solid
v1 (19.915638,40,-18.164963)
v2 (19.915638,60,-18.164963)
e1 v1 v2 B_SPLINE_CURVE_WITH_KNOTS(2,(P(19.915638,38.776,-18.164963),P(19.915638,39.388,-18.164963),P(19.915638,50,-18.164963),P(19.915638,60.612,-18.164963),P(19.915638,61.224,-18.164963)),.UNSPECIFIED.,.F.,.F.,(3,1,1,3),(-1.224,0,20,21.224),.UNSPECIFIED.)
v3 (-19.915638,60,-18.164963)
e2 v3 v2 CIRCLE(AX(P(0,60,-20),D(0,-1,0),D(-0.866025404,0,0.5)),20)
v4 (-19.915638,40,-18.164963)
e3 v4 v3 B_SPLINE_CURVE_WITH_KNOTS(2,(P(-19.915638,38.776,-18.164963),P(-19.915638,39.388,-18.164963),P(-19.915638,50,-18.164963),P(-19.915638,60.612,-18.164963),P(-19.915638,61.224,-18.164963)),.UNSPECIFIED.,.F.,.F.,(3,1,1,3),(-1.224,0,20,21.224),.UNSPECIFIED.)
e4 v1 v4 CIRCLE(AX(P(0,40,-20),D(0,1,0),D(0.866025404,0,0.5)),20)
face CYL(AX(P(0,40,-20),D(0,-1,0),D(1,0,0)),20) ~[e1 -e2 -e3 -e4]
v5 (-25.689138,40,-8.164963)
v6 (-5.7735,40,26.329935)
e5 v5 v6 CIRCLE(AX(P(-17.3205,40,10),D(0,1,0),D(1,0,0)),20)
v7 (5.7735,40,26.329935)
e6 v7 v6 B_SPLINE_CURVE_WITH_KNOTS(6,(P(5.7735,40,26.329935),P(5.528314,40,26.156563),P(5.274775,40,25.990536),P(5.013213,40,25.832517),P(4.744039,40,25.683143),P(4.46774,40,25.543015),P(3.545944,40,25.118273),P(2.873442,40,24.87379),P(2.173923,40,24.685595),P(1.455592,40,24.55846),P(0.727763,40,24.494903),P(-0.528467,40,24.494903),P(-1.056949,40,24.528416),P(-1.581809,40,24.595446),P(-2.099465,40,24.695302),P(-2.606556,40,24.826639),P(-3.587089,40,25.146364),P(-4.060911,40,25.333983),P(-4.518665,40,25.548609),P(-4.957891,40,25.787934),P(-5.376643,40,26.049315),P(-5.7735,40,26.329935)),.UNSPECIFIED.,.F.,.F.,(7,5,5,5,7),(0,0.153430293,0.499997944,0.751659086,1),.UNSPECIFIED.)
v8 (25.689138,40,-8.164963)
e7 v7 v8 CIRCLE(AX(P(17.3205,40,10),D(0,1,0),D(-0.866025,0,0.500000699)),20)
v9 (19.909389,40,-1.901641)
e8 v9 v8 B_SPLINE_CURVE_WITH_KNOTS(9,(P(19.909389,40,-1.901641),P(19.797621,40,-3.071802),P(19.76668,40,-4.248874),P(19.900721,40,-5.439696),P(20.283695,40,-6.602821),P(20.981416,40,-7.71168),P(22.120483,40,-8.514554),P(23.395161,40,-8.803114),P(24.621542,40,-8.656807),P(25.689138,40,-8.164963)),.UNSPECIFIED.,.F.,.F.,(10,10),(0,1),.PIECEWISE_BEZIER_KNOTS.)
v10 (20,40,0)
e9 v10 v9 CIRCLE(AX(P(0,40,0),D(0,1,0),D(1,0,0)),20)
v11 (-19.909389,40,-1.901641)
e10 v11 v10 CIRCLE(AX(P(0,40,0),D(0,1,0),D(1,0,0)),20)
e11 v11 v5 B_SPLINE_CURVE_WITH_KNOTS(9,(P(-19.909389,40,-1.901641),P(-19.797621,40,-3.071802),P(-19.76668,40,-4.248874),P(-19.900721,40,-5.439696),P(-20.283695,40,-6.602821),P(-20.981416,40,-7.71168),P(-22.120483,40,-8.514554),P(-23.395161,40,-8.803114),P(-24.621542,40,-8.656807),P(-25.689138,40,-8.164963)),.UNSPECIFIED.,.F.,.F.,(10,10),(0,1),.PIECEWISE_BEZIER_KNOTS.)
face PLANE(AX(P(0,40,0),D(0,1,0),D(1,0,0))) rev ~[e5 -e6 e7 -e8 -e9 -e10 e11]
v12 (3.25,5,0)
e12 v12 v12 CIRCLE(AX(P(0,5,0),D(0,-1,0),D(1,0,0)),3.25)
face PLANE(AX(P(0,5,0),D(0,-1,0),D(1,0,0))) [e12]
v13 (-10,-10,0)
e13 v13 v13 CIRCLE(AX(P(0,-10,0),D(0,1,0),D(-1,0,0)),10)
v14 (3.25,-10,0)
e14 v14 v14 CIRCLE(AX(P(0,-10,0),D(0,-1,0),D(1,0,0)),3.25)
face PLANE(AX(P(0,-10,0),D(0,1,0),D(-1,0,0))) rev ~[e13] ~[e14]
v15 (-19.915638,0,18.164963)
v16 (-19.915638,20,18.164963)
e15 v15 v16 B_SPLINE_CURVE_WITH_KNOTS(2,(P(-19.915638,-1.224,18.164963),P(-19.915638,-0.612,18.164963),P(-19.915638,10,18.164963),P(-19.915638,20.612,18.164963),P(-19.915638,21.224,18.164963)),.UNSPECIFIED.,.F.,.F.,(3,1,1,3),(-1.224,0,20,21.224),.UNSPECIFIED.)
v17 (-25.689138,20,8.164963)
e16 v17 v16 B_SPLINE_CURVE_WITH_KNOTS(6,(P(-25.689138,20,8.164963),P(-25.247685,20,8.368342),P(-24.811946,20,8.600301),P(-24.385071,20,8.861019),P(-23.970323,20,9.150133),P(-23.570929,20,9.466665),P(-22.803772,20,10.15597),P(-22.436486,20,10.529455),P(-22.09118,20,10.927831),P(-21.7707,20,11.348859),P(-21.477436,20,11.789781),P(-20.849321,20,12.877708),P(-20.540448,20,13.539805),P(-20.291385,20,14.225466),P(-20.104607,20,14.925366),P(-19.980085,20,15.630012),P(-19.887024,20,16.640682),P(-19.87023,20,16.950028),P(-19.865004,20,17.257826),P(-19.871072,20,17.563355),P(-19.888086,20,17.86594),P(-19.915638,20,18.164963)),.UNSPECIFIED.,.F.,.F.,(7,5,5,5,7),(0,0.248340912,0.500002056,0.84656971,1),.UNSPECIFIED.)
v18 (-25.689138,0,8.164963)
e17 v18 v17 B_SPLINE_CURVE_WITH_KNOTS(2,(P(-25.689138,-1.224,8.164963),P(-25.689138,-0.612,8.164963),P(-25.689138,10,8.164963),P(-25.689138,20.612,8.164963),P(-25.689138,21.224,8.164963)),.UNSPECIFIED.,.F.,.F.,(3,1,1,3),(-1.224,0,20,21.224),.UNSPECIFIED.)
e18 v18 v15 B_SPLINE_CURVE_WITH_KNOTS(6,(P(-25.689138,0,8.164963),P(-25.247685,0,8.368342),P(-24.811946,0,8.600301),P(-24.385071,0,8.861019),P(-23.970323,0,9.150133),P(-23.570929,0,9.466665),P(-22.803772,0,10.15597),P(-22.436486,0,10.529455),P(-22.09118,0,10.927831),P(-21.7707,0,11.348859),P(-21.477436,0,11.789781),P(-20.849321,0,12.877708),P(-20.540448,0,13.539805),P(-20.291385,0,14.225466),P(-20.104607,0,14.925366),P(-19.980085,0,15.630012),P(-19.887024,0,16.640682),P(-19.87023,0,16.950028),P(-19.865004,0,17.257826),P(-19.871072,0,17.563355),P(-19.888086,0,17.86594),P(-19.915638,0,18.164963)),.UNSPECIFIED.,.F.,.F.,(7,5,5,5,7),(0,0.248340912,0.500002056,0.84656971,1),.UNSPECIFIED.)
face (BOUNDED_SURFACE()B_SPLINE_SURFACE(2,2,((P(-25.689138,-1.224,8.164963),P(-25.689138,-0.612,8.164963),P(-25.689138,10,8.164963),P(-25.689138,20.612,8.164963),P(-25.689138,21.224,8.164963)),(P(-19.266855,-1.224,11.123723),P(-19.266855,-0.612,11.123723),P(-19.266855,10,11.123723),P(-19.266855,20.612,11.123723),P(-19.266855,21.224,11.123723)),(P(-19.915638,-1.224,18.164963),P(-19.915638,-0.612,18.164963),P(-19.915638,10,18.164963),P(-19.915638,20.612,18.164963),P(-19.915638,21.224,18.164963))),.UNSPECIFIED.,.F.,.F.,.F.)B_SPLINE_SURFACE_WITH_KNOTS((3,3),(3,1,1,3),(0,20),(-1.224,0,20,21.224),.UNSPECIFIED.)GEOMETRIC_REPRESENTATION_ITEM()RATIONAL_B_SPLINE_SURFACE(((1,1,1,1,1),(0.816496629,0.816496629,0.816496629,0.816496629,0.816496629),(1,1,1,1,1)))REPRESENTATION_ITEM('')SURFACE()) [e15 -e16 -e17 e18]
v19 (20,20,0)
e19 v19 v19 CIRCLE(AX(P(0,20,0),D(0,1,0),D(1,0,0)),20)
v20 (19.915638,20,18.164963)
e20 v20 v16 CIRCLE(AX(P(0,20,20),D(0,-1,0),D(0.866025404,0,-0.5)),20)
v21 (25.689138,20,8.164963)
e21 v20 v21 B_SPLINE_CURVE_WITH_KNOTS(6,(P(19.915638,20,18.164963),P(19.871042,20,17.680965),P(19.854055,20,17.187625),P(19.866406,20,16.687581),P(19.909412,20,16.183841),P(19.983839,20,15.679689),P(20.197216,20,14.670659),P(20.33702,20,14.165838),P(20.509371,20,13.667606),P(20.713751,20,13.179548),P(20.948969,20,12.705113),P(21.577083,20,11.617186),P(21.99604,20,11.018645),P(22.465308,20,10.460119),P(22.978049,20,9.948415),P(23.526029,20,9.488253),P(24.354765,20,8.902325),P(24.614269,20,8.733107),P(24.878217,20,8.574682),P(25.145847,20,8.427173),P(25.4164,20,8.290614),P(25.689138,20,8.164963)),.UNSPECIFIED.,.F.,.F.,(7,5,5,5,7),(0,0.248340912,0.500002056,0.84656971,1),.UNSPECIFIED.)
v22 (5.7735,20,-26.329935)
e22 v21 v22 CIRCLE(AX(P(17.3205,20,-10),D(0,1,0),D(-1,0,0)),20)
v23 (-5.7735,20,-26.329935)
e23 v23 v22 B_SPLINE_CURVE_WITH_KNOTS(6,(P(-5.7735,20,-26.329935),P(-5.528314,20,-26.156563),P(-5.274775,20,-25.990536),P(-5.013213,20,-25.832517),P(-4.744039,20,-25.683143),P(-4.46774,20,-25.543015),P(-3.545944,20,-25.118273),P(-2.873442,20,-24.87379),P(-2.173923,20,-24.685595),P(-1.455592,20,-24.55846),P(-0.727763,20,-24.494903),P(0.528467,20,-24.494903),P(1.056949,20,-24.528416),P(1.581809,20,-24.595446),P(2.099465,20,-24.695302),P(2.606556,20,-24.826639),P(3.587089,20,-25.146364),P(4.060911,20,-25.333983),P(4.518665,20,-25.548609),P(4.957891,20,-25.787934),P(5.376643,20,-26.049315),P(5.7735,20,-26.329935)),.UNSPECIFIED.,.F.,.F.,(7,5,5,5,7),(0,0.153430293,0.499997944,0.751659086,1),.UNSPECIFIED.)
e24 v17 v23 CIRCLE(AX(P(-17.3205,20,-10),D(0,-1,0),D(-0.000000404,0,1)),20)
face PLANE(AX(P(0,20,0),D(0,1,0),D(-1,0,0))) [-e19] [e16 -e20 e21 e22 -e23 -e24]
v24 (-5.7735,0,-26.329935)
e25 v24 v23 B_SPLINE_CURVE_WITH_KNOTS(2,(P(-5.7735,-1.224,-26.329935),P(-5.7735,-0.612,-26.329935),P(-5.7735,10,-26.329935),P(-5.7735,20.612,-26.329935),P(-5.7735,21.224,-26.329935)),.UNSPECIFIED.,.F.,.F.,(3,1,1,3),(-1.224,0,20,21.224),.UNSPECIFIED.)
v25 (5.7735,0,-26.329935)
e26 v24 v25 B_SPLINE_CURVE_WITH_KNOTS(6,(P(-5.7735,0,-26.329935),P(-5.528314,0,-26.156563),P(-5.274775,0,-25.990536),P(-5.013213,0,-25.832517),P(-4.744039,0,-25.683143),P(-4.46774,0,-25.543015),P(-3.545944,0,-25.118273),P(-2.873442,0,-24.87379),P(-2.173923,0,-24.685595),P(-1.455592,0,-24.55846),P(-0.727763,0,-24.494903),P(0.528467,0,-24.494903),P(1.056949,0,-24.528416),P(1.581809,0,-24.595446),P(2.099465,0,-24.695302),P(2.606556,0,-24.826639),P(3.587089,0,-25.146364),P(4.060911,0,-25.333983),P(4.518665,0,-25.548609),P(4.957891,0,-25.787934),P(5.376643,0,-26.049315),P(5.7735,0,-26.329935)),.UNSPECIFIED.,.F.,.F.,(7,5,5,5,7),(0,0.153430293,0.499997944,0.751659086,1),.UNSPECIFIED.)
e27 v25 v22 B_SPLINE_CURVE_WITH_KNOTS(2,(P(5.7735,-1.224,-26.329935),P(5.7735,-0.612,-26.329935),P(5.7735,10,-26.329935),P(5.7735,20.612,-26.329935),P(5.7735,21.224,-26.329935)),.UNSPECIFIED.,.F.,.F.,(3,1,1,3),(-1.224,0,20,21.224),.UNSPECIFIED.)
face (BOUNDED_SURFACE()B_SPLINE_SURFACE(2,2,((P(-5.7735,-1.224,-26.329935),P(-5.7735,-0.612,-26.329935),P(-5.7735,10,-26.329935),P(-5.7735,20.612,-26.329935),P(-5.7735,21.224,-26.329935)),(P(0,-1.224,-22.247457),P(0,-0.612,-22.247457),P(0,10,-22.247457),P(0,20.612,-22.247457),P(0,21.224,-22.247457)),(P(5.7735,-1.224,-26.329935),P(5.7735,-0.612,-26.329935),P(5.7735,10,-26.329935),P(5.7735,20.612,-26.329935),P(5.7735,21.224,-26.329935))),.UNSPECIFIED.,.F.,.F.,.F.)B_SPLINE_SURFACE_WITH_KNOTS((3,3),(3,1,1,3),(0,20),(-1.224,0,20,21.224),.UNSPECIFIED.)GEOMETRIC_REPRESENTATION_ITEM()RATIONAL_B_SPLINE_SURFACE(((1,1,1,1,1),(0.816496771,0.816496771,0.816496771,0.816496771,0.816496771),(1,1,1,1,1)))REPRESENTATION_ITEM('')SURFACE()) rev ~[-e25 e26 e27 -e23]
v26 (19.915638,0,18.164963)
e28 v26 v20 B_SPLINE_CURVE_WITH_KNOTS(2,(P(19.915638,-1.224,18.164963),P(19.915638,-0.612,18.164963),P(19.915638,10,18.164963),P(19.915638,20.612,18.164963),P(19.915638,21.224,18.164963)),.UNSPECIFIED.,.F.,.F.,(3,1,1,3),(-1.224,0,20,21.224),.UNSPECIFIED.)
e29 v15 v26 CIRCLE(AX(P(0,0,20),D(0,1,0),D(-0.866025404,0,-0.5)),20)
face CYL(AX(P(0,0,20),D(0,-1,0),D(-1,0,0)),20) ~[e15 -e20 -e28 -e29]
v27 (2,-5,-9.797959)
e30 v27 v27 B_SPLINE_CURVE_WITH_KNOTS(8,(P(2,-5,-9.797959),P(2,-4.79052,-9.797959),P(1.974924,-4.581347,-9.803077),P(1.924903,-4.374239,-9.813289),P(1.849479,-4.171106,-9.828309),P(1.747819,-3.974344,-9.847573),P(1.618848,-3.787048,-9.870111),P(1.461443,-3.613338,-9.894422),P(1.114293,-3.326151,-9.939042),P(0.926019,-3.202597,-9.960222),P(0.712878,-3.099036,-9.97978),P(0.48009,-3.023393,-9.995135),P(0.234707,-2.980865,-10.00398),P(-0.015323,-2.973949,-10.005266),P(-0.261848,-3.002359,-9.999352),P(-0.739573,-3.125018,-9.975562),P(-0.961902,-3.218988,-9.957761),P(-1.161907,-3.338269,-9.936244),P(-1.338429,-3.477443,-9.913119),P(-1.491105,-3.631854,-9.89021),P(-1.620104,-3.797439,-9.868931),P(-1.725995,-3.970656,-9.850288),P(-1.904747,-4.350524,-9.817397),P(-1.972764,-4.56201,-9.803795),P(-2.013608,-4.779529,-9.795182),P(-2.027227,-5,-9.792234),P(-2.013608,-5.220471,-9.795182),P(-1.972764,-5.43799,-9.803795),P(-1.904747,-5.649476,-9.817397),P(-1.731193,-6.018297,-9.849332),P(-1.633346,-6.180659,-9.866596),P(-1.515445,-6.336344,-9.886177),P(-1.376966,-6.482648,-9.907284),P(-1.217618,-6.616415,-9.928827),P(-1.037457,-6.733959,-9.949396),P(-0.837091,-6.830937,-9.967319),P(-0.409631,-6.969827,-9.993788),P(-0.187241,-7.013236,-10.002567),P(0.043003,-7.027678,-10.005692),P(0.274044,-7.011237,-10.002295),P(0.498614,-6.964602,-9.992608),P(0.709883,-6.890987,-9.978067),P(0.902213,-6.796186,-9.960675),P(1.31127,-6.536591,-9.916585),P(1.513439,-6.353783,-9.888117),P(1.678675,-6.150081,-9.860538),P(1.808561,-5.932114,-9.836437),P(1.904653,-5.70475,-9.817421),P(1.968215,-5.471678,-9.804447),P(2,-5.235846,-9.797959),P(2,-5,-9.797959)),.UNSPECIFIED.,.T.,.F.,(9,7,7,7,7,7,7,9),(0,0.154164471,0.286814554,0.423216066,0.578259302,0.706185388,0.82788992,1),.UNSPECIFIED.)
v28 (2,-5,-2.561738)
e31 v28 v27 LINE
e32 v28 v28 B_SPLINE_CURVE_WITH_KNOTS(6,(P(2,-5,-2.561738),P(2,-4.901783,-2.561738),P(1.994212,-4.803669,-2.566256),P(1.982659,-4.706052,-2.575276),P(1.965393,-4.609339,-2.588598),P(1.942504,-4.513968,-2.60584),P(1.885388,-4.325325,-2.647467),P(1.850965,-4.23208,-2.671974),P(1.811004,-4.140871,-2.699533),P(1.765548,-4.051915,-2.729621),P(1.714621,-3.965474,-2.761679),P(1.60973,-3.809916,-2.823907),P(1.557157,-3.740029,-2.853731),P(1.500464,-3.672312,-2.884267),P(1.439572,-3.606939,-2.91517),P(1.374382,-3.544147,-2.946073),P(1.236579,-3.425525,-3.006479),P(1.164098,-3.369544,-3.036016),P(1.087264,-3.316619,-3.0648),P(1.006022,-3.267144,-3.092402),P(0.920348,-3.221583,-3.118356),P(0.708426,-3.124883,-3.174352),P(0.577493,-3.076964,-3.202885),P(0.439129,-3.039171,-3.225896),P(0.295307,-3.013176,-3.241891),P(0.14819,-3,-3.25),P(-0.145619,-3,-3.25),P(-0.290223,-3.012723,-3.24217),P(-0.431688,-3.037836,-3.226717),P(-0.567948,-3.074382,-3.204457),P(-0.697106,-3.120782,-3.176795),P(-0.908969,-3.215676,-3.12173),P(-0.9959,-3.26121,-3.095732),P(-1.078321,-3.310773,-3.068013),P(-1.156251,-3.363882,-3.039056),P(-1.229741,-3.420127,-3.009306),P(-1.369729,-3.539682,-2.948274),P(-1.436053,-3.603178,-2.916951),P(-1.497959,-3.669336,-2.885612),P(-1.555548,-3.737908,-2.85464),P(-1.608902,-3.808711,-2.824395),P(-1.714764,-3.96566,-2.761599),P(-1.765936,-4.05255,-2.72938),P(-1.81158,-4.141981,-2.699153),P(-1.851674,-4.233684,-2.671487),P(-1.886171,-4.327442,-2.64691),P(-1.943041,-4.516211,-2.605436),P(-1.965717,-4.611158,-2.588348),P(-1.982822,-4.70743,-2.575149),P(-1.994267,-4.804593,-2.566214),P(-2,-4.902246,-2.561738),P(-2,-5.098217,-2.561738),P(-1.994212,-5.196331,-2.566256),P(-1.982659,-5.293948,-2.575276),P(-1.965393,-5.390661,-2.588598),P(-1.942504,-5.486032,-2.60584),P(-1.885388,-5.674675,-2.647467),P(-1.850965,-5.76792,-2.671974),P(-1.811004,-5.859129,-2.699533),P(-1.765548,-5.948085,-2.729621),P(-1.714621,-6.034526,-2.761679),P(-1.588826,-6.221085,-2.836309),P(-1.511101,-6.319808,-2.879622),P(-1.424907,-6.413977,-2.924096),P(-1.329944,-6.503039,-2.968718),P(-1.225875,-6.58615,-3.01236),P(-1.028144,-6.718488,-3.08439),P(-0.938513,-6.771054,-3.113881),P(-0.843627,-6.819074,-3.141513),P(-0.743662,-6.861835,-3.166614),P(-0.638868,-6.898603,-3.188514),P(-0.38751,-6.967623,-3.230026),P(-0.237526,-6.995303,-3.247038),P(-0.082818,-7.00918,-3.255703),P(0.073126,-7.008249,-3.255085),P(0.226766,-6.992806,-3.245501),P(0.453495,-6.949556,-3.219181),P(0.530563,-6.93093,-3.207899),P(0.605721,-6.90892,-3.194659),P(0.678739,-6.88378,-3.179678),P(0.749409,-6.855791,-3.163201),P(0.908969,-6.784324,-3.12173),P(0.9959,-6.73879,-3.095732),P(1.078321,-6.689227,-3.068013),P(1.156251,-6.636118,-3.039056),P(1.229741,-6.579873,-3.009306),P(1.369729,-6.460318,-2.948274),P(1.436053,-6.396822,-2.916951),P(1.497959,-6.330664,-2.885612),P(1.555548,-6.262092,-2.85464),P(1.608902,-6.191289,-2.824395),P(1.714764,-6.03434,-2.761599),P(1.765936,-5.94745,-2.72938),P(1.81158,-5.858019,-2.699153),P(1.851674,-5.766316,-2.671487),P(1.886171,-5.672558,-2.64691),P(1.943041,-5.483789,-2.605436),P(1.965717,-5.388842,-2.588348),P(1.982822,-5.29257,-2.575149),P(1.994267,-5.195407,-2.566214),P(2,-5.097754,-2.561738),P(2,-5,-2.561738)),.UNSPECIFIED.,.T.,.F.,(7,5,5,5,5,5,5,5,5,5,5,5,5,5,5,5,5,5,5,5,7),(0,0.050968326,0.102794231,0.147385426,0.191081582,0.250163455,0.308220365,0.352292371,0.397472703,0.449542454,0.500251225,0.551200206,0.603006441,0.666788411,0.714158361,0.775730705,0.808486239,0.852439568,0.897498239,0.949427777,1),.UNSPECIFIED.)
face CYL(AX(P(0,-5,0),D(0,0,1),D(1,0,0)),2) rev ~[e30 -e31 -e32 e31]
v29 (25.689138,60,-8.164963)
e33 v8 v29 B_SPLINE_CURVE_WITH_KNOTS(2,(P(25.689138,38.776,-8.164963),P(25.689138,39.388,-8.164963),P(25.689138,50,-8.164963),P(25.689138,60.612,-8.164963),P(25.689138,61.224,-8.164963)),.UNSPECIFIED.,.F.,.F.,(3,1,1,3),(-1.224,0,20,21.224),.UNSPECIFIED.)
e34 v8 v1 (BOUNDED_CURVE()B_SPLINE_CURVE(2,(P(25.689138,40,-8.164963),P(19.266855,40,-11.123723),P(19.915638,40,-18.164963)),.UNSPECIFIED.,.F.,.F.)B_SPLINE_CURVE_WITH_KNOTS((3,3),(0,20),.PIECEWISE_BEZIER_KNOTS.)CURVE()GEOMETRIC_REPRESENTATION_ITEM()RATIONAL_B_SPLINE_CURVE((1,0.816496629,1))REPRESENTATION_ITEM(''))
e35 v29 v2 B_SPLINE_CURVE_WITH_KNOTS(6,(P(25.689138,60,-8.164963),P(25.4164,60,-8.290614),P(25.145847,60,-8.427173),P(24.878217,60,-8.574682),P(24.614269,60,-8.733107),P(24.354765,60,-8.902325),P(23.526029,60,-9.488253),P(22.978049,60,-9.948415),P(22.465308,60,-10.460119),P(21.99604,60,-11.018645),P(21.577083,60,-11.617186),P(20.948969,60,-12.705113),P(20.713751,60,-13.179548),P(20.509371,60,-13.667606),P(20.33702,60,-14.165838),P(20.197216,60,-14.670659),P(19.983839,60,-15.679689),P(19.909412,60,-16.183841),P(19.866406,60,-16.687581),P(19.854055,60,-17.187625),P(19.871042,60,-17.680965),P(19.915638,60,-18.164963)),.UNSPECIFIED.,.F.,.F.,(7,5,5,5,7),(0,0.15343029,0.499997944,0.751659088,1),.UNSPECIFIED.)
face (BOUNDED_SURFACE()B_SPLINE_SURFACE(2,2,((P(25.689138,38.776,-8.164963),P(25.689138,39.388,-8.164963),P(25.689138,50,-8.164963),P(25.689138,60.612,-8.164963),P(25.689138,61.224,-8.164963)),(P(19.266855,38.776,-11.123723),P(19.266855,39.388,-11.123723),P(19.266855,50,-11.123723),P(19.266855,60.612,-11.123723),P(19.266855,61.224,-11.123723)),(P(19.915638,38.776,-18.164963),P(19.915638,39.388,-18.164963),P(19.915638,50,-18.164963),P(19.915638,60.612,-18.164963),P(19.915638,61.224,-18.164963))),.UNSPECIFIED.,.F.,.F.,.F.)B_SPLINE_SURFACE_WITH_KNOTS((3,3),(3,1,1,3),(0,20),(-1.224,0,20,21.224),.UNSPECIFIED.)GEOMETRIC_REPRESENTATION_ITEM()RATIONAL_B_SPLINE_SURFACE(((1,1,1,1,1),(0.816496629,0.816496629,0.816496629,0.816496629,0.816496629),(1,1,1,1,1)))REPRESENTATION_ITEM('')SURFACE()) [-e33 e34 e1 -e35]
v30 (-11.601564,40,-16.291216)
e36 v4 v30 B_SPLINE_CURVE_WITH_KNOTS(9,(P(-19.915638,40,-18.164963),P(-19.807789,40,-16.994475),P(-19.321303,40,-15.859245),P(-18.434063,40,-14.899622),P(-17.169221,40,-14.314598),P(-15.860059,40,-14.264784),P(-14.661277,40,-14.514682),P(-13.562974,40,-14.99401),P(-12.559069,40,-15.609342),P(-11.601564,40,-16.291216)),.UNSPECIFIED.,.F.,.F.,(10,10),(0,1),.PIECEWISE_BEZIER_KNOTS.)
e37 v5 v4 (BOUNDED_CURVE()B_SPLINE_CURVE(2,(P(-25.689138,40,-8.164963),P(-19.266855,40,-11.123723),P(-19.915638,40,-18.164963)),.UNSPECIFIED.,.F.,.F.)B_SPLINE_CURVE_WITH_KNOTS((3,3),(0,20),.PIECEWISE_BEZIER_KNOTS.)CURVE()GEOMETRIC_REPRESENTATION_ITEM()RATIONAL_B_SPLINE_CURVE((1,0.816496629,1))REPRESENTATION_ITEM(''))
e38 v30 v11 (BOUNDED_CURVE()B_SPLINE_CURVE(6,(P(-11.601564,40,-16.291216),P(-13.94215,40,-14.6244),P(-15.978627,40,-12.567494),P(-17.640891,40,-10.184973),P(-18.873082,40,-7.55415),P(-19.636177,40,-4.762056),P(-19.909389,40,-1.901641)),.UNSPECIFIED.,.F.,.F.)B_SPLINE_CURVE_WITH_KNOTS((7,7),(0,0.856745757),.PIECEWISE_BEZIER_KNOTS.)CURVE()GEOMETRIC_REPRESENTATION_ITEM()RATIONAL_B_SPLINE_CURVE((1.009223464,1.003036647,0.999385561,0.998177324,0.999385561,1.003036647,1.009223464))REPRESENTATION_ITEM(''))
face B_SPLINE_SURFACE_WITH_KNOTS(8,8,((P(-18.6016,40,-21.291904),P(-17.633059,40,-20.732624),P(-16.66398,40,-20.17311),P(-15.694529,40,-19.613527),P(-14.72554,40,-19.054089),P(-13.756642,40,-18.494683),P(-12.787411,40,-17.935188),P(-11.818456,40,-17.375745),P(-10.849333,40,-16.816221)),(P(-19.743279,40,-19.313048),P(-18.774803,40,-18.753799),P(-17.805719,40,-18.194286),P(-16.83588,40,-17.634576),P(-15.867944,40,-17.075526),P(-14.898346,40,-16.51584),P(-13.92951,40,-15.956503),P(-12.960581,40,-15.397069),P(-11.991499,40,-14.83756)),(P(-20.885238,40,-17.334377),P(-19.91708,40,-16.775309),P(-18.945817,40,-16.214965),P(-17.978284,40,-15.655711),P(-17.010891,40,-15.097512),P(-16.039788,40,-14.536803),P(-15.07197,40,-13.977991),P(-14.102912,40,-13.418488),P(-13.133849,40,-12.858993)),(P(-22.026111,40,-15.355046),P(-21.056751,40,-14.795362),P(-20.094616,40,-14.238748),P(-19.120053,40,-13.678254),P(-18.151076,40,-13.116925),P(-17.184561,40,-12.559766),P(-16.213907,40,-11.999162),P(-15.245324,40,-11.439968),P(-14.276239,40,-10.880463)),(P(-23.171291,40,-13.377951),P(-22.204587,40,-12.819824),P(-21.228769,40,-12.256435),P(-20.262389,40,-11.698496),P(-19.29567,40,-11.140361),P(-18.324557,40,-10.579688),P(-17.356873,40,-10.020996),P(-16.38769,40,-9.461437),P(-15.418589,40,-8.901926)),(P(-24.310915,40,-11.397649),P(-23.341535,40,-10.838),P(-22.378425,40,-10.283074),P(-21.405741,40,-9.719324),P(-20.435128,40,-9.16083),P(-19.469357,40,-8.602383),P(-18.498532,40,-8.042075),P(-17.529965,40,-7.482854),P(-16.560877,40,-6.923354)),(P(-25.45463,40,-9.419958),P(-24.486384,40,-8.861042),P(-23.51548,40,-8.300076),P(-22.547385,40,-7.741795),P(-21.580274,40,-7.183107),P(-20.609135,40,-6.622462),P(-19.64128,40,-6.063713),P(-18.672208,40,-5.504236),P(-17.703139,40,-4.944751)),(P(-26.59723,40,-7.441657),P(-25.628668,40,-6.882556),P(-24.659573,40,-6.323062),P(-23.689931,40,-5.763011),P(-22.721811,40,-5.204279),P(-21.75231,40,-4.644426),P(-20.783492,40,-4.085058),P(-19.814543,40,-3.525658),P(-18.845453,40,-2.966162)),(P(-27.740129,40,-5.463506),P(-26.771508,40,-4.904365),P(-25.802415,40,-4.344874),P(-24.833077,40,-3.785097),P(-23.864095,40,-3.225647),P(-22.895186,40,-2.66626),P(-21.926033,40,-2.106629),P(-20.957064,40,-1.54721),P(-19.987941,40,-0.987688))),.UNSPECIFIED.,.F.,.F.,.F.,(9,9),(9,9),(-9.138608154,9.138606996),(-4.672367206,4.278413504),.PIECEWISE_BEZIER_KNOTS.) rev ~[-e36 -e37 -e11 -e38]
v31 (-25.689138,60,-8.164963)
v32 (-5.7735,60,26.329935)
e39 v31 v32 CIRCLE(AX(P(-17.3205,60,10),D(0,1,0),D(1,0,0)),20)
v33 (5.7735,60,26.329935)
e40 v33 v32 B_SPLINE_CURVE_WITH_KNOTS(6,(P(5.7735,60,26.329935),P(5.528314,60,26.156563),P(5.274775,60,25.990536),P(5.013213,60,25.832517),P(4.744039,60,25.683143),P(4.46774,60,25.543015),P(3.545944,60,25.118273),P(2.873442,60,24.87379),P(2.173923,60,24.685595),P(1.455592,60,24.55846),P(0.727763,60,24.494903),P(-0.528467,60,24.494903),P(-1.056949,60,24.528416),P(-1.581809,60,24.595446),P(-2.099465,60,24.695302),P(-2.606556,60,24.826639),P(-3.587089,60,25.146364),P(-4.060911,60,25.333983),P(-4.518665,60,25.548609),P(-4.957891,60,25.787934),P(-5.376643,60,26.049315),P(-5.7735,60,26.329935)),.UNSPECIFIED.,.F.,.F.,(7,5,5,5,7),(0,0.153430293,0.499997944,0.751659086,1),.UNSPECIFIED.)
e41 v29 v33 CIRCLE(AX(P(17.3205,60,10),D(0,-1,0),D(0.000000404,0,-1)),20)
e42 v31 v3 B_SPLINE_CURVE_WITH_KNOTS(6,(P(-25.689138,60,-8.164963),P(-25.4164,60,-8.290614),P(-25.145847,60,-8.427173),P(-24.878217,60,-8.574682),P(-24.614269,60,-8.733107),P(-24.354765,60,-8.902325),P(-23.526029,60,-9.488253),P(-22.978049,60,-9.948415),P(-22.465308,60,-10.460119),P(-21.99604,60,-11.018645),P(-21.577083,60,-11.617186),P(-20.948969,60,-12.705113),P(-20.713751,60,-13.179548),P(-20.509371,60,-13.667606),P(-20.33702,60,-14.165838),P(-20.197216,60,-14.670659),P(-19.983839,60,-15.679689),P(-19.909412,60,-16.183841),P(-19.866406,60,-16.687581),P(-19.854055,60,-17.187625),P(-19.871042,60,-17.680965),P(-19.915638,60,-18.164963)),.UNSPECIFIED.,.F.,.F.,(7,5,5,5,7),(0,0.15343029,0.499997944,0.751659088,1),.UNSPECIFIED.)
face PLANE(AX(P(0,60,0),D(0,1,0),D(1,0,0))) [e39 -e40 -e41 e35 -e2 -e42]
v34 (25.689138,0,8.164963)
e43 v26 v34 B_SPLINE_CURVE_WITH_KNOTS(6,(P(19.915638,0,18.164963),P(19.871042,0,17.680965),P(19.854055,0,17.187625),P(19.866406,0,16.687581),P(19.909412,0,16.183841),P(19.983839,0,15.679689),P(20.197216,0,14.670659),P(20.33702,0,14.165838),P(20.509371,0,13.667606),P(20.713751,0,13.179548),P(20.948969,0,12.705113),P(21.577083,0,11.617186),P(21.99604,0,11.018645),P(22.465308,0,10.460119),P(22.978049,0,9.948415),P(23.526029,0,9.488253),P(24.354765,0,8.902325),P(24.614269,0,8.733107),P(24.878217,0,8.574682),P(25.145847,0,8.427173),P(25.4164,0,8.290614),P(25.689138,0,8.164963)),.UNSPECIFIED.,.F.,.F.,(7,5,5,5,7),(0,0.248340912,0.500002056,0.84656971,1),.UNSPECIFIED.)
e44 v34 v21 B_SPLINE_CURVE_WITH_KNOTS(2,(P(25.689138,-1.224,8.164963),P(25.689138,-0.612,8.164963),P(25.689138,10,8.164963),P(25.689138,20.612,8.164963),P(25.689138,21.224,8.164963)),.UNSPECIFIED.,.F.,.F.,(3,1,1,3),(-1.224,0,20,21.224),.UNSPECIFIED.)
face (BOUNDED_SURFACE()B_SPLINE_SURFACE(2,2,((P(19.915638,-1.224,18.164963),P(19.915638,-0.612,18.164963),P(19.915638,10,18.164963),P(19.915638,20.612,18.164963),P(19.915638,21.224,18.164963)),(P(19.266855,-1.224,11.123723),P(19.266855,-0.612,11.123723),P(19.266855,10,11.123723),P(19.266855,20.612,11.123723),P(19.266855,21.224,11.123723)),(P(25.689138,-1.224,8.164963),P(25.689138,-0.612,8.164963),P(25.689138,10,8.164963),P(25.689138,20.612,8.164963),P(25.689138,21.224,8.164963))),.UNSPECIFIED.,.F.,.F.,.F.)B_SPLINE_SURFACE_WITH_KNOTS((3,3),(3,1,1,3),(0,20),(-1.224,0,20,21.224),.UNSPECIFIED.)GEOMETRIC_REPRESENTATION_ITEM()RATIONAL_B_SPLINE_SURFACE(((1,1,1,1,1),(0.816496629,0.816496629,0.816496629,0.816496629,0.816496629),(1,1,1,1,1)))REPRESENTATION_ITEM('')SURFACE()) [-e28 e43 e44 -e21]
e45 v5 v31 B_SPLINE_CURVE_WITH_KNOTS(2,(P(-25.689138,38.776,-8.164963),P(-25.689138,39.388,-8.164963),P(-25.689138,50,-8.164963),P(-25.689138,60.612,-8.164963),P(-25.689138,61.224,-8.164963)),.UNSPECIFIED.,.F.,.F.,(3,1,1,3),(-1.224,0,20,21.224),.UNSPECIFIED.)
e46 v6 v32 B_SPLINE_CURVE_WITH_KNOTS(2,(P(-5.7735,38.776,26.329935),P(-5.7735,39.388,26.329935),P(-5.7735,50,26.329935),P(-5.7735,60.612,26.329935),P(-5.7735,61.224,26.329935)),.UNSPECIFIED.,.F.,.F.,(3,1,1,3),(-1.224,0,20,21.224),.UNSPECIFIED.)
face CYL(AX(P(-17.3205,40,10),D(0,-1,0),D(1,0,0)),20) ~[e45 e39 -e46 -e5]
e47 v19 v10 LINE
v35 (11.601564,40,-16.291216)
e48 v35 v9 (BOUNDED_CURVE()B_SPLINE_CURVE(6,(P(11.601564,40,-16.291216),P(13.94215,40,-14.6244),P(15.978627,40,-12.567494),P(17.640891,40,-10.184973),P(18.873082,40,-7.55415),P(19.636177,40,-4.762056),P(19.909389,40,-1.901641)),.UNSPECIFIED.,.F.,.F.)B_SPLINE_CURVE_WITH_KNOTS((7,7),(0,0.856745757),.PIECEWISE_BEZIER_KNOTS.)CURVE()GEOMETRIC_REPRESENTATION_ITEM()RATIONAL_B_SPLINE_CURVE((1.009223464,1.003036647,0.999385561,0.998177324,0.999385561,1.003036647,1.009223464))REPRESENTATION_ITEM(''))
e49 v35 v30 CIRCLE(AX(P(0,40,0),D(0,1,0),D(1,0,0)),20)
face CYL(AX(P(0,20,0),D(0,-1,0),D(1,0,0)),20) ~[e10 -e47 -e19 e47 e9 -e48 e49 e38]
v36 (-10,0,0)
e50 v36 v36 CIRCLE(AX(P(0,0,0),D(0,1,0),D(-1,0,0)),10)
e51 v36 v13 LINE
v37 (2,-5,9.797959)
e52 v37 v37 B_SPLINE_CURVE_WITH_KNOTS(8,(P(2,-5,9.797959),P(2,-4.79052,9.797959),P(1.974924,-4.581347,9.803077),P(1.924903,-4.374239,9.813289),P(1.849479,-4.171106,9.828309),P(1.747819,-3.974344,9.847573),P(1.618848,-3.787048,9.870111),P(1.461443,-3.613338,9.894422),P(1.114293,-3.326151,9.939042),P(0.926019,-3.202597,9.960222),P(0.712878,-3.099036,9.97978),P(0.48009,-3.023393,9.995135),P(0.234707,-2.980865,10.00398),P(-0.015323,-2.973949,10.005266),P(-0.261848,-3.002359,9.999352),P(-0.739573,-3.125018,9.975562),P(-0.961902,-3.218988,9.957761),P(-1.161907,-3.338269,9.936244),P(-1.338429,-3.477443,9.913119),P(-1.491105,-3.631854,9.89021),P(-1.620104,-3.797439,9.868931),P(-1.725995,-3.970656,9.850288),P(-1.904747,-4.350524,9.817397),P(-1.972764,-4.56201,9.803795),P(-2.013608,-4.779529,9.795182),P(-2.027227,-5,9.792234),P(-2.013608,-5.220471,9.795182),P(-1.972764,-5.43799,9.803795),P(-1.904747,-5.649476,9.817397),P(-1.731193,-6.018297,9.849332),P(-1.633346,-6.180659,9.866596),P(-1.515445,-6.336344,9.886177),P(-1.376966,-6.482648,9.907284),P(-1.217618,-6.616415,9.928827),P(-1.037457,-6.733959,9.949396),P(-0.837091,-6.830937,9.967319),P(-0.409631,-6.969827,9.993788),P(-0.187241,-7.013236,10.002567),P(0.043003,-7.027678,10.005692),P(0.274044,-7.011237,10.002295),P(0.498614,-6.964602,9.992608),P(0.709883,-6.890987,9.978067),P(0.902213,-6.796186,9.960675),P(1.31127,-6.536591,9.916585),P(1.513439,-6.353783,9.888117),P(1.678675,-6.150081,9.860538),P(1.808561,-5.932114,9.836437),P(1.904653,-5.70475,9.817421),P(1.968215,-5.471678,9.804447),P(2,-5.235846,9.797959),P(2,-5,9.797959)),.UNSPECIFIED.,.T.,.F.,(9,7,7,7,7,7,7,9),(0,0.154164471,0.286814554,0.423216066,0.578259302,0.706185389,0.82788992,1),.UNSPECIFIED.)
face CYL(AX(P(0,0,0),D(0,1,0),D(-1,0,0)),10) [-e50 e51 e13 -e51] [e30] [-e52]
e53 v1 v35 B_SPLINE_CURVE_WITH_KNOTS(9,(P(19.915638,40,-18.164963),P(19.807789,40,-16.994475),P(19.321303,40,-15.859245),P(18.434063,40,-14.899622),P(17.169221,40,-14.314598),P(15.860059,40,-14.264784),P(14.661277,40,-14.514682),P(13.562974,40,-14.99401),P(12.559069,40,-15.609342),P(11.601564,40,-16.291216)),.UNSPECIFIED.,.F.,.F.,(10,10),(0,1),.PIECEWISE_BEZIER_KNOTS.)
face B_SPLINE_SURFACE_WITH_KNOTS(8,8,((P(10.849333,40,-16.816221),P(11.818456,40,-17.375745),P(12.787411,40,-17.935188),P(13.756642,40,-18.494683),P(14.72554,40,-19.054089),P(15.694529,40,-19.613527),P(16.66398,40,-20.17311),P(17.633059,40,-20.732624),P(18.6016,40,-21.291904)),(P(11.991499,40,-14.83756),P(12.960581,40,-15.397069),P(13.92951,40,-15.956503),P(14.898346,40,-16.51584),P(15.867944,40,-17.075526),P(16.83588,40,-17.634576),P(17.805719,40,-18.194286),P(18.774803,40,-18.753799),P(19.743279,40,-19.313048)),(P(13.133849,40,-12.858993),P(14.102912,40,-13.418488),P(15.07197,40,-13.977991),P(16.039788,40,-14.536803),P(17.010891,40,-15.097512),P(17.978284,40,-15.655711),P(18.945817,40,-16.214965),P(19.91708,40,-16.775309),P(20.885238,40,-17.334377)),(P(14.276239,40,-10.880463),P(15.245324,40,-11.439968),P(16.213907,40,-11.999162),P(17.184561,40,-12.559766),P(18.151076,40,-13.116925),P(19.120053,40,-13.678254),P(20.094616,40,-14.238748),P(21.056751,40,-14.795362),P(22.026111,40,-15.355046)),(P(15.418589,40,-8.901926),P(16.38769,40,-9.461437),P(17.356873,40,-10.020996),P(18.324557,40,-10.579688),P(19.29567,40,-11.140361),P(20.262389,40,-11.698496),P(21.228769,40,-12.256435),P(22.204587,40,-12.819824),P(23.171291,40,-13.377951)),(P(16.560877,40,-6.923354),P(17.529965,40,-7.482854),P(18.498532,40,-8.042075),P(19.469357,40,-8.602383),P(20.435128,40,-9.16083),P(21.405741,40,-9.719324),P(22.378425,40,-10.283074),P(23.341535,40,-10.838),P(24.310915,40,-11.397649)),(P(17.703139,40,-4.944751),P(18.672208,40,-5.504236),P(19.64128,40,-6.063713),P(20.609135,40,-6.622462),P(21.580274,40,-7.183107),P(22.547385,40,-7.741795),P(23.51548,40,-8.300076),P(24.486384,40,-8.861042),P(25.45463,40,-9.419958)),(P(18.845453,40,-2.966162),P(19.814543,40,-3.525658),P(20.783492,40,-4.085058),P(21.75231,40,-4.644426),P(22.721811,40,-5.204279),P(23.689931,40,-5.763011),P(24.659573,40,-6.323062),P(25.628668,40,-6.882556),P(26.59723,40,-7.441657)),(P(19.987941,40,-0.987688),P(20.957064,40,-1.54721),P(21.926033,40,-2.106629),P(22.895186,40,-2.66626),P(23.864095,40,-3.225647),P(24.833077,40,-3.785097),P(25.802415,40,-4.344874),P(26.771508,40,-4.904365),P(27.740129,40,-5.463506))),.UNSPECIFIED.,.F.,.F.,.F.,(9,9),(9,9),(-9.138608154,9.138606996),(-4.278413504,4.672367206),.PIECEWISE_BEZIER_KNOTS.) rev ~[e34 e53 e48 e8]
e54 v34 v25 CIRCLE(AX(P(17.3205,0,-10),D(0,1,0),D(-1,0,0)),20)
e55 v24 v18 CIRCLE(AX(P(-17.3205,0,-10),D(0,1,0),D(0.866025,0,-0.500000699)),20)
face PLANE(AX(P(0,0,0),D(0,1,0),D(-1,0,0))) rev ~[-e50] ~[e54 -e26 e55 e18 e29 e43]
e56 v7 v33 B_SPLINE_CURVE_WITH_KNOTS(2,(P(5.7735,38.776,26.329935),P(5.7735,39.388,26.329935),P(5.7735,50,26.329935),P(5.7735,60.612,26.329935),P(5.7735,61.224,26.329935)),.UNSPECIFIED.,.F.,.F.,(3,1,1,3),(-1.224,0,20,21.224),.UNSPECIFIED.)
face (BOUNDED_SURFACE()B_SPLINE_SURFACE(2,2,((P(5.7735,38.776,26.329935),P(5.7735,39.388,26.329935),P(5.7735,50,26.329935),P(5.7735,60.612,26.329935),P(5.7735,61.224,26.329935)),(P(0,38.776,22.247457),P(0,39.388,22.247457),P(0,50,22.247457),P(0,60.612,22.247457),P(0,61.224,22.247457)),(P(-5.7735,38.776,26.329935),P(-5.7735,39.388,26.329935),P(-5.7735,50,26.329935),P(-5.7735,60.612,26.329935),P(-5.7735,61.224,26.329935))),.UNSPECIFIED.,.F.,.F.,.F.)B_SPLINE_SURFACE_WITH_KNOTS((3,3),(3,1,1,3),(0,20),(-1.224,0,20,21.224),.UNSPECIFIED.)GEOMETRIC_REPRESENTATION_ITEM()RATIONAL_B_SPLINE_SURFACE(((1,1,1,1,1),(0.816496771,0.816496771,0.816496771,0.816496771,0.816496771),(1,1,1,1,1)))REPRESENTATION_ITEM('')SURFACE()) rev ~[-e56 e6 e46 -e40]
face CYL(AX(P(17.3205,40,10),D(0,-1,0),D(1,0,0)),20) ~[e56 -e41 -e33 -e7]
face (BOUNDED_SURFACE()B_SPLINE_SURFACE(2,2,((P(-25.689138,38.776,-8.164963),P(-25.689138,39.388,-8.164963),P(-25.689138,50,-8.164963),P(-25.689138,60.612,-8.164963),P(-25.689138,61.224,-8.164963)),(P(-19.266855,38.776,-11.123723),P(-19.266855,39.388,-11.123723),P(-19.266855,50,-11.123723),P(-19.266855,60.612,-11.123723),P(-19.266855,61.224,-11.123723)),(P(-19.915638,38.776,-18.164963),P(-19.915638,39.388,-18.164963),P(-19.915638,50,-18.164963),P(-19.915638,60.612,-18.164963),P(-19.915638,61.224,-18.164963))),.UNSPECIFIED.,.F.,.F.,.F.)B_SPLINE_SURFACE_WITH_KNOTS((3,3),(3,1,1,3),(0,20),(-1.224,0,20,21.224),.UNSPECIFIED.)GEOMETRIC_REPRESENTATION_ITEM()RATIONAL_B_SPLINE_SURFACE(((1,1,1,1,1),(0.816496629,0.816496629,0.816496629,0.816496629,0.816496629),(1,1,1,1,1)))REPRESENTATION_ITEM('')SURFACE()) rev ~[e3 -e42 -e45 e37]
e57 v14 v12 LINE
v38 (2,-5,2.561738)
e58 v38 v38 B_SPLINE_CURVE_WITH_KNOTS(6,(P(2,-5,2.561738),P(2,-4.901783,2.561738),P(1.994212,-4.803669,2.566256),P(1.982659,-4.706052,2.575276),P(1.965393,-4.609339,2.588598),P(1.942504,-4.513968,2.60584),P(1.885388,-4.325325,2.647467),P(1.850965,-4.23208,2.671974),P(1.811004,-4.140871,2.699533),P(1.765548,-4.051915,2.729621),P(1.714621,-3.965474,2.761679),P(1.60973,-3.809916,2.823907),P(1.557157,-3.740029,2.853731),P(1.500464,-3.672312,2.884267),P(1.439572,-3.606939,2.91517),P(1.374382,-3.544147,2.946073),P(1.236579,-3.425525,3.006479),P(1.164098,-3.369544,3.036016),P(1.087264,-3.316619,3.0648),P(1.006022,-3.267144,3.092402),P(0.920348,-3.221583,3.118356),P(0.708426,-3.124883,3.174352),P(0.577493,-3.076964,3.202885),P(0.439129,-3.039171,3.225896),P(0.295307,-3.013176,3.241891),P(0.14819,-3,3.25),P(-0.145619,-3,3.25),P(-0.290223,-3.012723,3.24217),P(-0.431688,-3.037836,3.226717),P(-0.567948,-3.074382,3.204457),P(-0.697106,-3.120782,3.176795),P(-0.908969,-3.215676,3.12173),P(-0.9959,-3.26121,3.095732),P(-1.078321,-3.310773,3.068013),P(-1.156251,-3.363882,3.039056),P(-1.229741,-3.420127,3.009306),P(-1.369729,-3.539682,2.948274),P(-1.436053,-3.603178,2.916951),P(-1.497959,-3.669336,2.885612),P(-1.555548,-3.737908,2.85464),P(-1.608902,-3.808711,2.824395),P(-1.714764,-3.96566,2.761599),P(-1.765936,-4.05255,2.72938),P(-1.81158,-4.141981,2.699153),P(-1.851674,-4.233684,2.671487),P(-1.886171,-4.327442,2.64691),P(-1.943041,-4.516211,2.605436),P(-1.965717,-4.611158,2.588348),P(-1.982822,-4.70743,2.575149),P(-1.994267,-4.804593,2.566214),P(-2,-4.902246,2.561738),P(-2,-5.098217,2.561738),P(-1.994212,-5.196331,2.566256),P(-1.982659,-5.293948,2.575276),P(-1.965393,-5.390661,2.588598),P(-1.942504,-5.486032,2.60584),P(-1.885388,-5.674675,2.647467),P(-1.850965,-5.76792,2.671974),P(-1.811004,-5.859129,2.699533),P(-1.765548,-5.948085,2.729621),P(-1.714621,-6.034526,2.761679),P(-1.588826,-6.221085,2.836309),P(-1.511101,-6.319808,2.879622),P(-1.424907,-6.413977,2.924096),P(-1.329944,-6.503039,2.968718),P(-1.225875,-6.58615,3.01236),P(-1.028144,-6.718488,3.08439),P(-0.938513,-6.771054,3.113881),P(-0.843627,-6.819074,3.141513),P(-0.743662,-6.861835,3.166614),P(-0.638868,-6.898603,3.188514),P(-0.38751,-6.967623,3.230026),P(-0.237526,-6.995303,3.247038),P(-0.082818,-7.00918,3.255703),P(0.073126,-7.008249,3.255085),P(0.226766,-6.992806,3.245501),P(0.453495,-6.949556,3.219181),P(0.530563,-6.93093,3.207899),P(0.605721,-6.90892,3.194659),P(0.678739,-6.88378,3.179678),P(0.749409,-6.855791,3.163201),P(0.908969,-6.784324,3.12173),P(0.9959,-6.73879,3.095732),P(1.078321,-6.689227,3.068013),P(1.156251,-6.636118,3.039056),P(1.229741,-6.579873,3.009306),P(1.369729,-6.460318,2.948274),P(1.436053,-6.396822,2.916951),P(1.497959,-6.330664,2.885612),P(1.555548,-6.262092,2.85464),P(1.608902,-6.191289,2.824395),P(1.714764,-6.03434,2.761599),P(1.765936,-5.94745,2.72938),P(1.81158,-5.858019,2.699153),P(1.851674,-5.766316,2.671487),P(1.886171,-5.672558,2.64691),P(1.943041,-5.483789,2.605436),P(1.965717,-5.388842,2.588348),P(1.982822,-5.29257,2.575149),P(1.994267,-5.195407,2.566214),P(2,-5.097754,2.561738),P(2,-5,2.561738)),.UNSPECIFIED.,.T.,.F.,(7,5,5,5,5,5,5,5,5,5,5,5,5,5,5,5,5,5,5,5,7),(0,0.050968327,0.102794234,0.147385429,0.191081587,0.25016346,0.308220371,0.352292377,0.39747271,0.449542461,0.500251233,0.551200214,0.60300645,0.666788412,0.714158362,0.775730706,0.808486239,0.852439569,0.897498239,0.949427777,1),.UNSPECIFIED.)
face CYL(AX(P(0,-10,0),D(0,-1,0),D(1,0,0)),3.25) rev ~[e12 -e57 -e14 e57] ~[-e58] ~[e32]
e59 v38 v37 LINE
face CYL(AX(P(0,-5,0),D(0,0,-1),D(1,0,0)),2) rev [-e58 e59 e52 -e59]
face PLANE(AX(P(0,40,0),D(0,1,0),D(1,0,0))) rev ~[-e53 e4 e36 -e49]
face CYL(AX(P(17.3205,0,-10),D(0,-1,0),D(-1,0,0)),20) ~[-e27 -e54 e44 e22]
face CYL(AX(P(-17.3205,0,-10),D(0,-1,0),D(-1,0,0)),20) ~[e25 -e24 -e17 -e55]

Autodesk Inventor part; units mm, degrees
ref_plane "YZ Plane" through (0, 0, 0) normal (1, 0, 0) x (0, 1, 0)
ref_plane "XZ Plane" through (0, 0, 0) normal (0, 1, 0) x (-1, 0, 0)
ref_plane "XY Plane" through (0, 0, 0) normal (0, 0, 1) x (1, 0, 0)
sketch "Sketch1" plane through (0, 0, 0) normal (0, 1, 0) x (-1, 0, 0)
  circle A0 centre (0, 0) radius 20 construction
  circle A1 centre (0, 20) radius 20
  circle A2 centre (0, 0) radius 20 construction
  circle A3 centre (-17.3205, -10) radius 20
  circle A4 centre (0, 0) radius 20 construction
  circle A5 centre (17.3205, -10) radius 20
  dimension "d0" = 40
  dimension "d1" = 40
  dimension "d4" = 360
extrude "Extrusion1" add sketch "Sketch1" along normal blind 20
fillet "Fillet1" radius 10 1 edges at (0, 10, -20)
fillet "Fillet2" radius 10 1 edges at (-17.3205, 10, 10)
fillet "Fillet3" radius 10 1 edges at (17.3205, 10, 10)
sketch "Sketch2" plane through (0, 0, 0) normal (0, 1, 0) x (-1, 0, 0)
  circle A0 centre (0, 0) radius 10
  dimension "d11" = 20
extrude "Extrusion2" add sketch "Sketch2" against normal blind 10
sketch "Sketch3" plane through (0, 0, 0) normal (0, 0, 1) x (1, 0, 0)
  circle A0 centre (0, -5) radius 2
  line L0 (-10, -10) -> (10, -10) projected
  point P0 (0, 0)
  dimension "d14" = 4
  dimension "d15" = 5
extrude "Extrusion3" cut sketch "Sketch3" along normal through all both and the other way through all
sketch "Sketch4" plane through (0, -10, 0) normal (0, -1, 0) x (1, 0, 0)
  circle A0 centre (0, 0) radius 3.25
  dimension "d18" = 6.5
extrude "Extrusion4" cut sketch "Sketch4" against normal blind 15
sketch "Sketch6" plane through (0, 20, 0) normal (0, 1, 0) x (1, 0, 0)
  circle A0 centre (0, 0) radius 20
  dimension "d26" = 40
extrude "Extrusion5" add sketch "Sketch6" along normal blind 20
sketch "Sketch7" plane through (0, 40, 0) normal (0, 1, 0) x (1, 0, 0)
  circle A0 centre (0, 0) radius 20 construction
  circle A1 centre (0, 20) radius 20
  circle A2 centre (0, 0) radius 20 construction
  circle A3 centre (-17.3205, -10) radius 20
  circle A4 centre (0, 0) radius 20 construction
  circle A5 centre (17.3205, -10) radius 20
  dimension "d31" = 40
  dimension "d32" = 40
  dimension "d33" = 360
extrude "Extrusion6" add sketch "Sketch7" along normal blind 20
fillet "Fillet4" radius 10 3 edges at (17.3205, 50, -10) (-17.3205, 50, -10) (0, 50, 20)
equation "\"d1\" = d0"
equation "\"d32\" = d31"
properties part number "field-mover"
